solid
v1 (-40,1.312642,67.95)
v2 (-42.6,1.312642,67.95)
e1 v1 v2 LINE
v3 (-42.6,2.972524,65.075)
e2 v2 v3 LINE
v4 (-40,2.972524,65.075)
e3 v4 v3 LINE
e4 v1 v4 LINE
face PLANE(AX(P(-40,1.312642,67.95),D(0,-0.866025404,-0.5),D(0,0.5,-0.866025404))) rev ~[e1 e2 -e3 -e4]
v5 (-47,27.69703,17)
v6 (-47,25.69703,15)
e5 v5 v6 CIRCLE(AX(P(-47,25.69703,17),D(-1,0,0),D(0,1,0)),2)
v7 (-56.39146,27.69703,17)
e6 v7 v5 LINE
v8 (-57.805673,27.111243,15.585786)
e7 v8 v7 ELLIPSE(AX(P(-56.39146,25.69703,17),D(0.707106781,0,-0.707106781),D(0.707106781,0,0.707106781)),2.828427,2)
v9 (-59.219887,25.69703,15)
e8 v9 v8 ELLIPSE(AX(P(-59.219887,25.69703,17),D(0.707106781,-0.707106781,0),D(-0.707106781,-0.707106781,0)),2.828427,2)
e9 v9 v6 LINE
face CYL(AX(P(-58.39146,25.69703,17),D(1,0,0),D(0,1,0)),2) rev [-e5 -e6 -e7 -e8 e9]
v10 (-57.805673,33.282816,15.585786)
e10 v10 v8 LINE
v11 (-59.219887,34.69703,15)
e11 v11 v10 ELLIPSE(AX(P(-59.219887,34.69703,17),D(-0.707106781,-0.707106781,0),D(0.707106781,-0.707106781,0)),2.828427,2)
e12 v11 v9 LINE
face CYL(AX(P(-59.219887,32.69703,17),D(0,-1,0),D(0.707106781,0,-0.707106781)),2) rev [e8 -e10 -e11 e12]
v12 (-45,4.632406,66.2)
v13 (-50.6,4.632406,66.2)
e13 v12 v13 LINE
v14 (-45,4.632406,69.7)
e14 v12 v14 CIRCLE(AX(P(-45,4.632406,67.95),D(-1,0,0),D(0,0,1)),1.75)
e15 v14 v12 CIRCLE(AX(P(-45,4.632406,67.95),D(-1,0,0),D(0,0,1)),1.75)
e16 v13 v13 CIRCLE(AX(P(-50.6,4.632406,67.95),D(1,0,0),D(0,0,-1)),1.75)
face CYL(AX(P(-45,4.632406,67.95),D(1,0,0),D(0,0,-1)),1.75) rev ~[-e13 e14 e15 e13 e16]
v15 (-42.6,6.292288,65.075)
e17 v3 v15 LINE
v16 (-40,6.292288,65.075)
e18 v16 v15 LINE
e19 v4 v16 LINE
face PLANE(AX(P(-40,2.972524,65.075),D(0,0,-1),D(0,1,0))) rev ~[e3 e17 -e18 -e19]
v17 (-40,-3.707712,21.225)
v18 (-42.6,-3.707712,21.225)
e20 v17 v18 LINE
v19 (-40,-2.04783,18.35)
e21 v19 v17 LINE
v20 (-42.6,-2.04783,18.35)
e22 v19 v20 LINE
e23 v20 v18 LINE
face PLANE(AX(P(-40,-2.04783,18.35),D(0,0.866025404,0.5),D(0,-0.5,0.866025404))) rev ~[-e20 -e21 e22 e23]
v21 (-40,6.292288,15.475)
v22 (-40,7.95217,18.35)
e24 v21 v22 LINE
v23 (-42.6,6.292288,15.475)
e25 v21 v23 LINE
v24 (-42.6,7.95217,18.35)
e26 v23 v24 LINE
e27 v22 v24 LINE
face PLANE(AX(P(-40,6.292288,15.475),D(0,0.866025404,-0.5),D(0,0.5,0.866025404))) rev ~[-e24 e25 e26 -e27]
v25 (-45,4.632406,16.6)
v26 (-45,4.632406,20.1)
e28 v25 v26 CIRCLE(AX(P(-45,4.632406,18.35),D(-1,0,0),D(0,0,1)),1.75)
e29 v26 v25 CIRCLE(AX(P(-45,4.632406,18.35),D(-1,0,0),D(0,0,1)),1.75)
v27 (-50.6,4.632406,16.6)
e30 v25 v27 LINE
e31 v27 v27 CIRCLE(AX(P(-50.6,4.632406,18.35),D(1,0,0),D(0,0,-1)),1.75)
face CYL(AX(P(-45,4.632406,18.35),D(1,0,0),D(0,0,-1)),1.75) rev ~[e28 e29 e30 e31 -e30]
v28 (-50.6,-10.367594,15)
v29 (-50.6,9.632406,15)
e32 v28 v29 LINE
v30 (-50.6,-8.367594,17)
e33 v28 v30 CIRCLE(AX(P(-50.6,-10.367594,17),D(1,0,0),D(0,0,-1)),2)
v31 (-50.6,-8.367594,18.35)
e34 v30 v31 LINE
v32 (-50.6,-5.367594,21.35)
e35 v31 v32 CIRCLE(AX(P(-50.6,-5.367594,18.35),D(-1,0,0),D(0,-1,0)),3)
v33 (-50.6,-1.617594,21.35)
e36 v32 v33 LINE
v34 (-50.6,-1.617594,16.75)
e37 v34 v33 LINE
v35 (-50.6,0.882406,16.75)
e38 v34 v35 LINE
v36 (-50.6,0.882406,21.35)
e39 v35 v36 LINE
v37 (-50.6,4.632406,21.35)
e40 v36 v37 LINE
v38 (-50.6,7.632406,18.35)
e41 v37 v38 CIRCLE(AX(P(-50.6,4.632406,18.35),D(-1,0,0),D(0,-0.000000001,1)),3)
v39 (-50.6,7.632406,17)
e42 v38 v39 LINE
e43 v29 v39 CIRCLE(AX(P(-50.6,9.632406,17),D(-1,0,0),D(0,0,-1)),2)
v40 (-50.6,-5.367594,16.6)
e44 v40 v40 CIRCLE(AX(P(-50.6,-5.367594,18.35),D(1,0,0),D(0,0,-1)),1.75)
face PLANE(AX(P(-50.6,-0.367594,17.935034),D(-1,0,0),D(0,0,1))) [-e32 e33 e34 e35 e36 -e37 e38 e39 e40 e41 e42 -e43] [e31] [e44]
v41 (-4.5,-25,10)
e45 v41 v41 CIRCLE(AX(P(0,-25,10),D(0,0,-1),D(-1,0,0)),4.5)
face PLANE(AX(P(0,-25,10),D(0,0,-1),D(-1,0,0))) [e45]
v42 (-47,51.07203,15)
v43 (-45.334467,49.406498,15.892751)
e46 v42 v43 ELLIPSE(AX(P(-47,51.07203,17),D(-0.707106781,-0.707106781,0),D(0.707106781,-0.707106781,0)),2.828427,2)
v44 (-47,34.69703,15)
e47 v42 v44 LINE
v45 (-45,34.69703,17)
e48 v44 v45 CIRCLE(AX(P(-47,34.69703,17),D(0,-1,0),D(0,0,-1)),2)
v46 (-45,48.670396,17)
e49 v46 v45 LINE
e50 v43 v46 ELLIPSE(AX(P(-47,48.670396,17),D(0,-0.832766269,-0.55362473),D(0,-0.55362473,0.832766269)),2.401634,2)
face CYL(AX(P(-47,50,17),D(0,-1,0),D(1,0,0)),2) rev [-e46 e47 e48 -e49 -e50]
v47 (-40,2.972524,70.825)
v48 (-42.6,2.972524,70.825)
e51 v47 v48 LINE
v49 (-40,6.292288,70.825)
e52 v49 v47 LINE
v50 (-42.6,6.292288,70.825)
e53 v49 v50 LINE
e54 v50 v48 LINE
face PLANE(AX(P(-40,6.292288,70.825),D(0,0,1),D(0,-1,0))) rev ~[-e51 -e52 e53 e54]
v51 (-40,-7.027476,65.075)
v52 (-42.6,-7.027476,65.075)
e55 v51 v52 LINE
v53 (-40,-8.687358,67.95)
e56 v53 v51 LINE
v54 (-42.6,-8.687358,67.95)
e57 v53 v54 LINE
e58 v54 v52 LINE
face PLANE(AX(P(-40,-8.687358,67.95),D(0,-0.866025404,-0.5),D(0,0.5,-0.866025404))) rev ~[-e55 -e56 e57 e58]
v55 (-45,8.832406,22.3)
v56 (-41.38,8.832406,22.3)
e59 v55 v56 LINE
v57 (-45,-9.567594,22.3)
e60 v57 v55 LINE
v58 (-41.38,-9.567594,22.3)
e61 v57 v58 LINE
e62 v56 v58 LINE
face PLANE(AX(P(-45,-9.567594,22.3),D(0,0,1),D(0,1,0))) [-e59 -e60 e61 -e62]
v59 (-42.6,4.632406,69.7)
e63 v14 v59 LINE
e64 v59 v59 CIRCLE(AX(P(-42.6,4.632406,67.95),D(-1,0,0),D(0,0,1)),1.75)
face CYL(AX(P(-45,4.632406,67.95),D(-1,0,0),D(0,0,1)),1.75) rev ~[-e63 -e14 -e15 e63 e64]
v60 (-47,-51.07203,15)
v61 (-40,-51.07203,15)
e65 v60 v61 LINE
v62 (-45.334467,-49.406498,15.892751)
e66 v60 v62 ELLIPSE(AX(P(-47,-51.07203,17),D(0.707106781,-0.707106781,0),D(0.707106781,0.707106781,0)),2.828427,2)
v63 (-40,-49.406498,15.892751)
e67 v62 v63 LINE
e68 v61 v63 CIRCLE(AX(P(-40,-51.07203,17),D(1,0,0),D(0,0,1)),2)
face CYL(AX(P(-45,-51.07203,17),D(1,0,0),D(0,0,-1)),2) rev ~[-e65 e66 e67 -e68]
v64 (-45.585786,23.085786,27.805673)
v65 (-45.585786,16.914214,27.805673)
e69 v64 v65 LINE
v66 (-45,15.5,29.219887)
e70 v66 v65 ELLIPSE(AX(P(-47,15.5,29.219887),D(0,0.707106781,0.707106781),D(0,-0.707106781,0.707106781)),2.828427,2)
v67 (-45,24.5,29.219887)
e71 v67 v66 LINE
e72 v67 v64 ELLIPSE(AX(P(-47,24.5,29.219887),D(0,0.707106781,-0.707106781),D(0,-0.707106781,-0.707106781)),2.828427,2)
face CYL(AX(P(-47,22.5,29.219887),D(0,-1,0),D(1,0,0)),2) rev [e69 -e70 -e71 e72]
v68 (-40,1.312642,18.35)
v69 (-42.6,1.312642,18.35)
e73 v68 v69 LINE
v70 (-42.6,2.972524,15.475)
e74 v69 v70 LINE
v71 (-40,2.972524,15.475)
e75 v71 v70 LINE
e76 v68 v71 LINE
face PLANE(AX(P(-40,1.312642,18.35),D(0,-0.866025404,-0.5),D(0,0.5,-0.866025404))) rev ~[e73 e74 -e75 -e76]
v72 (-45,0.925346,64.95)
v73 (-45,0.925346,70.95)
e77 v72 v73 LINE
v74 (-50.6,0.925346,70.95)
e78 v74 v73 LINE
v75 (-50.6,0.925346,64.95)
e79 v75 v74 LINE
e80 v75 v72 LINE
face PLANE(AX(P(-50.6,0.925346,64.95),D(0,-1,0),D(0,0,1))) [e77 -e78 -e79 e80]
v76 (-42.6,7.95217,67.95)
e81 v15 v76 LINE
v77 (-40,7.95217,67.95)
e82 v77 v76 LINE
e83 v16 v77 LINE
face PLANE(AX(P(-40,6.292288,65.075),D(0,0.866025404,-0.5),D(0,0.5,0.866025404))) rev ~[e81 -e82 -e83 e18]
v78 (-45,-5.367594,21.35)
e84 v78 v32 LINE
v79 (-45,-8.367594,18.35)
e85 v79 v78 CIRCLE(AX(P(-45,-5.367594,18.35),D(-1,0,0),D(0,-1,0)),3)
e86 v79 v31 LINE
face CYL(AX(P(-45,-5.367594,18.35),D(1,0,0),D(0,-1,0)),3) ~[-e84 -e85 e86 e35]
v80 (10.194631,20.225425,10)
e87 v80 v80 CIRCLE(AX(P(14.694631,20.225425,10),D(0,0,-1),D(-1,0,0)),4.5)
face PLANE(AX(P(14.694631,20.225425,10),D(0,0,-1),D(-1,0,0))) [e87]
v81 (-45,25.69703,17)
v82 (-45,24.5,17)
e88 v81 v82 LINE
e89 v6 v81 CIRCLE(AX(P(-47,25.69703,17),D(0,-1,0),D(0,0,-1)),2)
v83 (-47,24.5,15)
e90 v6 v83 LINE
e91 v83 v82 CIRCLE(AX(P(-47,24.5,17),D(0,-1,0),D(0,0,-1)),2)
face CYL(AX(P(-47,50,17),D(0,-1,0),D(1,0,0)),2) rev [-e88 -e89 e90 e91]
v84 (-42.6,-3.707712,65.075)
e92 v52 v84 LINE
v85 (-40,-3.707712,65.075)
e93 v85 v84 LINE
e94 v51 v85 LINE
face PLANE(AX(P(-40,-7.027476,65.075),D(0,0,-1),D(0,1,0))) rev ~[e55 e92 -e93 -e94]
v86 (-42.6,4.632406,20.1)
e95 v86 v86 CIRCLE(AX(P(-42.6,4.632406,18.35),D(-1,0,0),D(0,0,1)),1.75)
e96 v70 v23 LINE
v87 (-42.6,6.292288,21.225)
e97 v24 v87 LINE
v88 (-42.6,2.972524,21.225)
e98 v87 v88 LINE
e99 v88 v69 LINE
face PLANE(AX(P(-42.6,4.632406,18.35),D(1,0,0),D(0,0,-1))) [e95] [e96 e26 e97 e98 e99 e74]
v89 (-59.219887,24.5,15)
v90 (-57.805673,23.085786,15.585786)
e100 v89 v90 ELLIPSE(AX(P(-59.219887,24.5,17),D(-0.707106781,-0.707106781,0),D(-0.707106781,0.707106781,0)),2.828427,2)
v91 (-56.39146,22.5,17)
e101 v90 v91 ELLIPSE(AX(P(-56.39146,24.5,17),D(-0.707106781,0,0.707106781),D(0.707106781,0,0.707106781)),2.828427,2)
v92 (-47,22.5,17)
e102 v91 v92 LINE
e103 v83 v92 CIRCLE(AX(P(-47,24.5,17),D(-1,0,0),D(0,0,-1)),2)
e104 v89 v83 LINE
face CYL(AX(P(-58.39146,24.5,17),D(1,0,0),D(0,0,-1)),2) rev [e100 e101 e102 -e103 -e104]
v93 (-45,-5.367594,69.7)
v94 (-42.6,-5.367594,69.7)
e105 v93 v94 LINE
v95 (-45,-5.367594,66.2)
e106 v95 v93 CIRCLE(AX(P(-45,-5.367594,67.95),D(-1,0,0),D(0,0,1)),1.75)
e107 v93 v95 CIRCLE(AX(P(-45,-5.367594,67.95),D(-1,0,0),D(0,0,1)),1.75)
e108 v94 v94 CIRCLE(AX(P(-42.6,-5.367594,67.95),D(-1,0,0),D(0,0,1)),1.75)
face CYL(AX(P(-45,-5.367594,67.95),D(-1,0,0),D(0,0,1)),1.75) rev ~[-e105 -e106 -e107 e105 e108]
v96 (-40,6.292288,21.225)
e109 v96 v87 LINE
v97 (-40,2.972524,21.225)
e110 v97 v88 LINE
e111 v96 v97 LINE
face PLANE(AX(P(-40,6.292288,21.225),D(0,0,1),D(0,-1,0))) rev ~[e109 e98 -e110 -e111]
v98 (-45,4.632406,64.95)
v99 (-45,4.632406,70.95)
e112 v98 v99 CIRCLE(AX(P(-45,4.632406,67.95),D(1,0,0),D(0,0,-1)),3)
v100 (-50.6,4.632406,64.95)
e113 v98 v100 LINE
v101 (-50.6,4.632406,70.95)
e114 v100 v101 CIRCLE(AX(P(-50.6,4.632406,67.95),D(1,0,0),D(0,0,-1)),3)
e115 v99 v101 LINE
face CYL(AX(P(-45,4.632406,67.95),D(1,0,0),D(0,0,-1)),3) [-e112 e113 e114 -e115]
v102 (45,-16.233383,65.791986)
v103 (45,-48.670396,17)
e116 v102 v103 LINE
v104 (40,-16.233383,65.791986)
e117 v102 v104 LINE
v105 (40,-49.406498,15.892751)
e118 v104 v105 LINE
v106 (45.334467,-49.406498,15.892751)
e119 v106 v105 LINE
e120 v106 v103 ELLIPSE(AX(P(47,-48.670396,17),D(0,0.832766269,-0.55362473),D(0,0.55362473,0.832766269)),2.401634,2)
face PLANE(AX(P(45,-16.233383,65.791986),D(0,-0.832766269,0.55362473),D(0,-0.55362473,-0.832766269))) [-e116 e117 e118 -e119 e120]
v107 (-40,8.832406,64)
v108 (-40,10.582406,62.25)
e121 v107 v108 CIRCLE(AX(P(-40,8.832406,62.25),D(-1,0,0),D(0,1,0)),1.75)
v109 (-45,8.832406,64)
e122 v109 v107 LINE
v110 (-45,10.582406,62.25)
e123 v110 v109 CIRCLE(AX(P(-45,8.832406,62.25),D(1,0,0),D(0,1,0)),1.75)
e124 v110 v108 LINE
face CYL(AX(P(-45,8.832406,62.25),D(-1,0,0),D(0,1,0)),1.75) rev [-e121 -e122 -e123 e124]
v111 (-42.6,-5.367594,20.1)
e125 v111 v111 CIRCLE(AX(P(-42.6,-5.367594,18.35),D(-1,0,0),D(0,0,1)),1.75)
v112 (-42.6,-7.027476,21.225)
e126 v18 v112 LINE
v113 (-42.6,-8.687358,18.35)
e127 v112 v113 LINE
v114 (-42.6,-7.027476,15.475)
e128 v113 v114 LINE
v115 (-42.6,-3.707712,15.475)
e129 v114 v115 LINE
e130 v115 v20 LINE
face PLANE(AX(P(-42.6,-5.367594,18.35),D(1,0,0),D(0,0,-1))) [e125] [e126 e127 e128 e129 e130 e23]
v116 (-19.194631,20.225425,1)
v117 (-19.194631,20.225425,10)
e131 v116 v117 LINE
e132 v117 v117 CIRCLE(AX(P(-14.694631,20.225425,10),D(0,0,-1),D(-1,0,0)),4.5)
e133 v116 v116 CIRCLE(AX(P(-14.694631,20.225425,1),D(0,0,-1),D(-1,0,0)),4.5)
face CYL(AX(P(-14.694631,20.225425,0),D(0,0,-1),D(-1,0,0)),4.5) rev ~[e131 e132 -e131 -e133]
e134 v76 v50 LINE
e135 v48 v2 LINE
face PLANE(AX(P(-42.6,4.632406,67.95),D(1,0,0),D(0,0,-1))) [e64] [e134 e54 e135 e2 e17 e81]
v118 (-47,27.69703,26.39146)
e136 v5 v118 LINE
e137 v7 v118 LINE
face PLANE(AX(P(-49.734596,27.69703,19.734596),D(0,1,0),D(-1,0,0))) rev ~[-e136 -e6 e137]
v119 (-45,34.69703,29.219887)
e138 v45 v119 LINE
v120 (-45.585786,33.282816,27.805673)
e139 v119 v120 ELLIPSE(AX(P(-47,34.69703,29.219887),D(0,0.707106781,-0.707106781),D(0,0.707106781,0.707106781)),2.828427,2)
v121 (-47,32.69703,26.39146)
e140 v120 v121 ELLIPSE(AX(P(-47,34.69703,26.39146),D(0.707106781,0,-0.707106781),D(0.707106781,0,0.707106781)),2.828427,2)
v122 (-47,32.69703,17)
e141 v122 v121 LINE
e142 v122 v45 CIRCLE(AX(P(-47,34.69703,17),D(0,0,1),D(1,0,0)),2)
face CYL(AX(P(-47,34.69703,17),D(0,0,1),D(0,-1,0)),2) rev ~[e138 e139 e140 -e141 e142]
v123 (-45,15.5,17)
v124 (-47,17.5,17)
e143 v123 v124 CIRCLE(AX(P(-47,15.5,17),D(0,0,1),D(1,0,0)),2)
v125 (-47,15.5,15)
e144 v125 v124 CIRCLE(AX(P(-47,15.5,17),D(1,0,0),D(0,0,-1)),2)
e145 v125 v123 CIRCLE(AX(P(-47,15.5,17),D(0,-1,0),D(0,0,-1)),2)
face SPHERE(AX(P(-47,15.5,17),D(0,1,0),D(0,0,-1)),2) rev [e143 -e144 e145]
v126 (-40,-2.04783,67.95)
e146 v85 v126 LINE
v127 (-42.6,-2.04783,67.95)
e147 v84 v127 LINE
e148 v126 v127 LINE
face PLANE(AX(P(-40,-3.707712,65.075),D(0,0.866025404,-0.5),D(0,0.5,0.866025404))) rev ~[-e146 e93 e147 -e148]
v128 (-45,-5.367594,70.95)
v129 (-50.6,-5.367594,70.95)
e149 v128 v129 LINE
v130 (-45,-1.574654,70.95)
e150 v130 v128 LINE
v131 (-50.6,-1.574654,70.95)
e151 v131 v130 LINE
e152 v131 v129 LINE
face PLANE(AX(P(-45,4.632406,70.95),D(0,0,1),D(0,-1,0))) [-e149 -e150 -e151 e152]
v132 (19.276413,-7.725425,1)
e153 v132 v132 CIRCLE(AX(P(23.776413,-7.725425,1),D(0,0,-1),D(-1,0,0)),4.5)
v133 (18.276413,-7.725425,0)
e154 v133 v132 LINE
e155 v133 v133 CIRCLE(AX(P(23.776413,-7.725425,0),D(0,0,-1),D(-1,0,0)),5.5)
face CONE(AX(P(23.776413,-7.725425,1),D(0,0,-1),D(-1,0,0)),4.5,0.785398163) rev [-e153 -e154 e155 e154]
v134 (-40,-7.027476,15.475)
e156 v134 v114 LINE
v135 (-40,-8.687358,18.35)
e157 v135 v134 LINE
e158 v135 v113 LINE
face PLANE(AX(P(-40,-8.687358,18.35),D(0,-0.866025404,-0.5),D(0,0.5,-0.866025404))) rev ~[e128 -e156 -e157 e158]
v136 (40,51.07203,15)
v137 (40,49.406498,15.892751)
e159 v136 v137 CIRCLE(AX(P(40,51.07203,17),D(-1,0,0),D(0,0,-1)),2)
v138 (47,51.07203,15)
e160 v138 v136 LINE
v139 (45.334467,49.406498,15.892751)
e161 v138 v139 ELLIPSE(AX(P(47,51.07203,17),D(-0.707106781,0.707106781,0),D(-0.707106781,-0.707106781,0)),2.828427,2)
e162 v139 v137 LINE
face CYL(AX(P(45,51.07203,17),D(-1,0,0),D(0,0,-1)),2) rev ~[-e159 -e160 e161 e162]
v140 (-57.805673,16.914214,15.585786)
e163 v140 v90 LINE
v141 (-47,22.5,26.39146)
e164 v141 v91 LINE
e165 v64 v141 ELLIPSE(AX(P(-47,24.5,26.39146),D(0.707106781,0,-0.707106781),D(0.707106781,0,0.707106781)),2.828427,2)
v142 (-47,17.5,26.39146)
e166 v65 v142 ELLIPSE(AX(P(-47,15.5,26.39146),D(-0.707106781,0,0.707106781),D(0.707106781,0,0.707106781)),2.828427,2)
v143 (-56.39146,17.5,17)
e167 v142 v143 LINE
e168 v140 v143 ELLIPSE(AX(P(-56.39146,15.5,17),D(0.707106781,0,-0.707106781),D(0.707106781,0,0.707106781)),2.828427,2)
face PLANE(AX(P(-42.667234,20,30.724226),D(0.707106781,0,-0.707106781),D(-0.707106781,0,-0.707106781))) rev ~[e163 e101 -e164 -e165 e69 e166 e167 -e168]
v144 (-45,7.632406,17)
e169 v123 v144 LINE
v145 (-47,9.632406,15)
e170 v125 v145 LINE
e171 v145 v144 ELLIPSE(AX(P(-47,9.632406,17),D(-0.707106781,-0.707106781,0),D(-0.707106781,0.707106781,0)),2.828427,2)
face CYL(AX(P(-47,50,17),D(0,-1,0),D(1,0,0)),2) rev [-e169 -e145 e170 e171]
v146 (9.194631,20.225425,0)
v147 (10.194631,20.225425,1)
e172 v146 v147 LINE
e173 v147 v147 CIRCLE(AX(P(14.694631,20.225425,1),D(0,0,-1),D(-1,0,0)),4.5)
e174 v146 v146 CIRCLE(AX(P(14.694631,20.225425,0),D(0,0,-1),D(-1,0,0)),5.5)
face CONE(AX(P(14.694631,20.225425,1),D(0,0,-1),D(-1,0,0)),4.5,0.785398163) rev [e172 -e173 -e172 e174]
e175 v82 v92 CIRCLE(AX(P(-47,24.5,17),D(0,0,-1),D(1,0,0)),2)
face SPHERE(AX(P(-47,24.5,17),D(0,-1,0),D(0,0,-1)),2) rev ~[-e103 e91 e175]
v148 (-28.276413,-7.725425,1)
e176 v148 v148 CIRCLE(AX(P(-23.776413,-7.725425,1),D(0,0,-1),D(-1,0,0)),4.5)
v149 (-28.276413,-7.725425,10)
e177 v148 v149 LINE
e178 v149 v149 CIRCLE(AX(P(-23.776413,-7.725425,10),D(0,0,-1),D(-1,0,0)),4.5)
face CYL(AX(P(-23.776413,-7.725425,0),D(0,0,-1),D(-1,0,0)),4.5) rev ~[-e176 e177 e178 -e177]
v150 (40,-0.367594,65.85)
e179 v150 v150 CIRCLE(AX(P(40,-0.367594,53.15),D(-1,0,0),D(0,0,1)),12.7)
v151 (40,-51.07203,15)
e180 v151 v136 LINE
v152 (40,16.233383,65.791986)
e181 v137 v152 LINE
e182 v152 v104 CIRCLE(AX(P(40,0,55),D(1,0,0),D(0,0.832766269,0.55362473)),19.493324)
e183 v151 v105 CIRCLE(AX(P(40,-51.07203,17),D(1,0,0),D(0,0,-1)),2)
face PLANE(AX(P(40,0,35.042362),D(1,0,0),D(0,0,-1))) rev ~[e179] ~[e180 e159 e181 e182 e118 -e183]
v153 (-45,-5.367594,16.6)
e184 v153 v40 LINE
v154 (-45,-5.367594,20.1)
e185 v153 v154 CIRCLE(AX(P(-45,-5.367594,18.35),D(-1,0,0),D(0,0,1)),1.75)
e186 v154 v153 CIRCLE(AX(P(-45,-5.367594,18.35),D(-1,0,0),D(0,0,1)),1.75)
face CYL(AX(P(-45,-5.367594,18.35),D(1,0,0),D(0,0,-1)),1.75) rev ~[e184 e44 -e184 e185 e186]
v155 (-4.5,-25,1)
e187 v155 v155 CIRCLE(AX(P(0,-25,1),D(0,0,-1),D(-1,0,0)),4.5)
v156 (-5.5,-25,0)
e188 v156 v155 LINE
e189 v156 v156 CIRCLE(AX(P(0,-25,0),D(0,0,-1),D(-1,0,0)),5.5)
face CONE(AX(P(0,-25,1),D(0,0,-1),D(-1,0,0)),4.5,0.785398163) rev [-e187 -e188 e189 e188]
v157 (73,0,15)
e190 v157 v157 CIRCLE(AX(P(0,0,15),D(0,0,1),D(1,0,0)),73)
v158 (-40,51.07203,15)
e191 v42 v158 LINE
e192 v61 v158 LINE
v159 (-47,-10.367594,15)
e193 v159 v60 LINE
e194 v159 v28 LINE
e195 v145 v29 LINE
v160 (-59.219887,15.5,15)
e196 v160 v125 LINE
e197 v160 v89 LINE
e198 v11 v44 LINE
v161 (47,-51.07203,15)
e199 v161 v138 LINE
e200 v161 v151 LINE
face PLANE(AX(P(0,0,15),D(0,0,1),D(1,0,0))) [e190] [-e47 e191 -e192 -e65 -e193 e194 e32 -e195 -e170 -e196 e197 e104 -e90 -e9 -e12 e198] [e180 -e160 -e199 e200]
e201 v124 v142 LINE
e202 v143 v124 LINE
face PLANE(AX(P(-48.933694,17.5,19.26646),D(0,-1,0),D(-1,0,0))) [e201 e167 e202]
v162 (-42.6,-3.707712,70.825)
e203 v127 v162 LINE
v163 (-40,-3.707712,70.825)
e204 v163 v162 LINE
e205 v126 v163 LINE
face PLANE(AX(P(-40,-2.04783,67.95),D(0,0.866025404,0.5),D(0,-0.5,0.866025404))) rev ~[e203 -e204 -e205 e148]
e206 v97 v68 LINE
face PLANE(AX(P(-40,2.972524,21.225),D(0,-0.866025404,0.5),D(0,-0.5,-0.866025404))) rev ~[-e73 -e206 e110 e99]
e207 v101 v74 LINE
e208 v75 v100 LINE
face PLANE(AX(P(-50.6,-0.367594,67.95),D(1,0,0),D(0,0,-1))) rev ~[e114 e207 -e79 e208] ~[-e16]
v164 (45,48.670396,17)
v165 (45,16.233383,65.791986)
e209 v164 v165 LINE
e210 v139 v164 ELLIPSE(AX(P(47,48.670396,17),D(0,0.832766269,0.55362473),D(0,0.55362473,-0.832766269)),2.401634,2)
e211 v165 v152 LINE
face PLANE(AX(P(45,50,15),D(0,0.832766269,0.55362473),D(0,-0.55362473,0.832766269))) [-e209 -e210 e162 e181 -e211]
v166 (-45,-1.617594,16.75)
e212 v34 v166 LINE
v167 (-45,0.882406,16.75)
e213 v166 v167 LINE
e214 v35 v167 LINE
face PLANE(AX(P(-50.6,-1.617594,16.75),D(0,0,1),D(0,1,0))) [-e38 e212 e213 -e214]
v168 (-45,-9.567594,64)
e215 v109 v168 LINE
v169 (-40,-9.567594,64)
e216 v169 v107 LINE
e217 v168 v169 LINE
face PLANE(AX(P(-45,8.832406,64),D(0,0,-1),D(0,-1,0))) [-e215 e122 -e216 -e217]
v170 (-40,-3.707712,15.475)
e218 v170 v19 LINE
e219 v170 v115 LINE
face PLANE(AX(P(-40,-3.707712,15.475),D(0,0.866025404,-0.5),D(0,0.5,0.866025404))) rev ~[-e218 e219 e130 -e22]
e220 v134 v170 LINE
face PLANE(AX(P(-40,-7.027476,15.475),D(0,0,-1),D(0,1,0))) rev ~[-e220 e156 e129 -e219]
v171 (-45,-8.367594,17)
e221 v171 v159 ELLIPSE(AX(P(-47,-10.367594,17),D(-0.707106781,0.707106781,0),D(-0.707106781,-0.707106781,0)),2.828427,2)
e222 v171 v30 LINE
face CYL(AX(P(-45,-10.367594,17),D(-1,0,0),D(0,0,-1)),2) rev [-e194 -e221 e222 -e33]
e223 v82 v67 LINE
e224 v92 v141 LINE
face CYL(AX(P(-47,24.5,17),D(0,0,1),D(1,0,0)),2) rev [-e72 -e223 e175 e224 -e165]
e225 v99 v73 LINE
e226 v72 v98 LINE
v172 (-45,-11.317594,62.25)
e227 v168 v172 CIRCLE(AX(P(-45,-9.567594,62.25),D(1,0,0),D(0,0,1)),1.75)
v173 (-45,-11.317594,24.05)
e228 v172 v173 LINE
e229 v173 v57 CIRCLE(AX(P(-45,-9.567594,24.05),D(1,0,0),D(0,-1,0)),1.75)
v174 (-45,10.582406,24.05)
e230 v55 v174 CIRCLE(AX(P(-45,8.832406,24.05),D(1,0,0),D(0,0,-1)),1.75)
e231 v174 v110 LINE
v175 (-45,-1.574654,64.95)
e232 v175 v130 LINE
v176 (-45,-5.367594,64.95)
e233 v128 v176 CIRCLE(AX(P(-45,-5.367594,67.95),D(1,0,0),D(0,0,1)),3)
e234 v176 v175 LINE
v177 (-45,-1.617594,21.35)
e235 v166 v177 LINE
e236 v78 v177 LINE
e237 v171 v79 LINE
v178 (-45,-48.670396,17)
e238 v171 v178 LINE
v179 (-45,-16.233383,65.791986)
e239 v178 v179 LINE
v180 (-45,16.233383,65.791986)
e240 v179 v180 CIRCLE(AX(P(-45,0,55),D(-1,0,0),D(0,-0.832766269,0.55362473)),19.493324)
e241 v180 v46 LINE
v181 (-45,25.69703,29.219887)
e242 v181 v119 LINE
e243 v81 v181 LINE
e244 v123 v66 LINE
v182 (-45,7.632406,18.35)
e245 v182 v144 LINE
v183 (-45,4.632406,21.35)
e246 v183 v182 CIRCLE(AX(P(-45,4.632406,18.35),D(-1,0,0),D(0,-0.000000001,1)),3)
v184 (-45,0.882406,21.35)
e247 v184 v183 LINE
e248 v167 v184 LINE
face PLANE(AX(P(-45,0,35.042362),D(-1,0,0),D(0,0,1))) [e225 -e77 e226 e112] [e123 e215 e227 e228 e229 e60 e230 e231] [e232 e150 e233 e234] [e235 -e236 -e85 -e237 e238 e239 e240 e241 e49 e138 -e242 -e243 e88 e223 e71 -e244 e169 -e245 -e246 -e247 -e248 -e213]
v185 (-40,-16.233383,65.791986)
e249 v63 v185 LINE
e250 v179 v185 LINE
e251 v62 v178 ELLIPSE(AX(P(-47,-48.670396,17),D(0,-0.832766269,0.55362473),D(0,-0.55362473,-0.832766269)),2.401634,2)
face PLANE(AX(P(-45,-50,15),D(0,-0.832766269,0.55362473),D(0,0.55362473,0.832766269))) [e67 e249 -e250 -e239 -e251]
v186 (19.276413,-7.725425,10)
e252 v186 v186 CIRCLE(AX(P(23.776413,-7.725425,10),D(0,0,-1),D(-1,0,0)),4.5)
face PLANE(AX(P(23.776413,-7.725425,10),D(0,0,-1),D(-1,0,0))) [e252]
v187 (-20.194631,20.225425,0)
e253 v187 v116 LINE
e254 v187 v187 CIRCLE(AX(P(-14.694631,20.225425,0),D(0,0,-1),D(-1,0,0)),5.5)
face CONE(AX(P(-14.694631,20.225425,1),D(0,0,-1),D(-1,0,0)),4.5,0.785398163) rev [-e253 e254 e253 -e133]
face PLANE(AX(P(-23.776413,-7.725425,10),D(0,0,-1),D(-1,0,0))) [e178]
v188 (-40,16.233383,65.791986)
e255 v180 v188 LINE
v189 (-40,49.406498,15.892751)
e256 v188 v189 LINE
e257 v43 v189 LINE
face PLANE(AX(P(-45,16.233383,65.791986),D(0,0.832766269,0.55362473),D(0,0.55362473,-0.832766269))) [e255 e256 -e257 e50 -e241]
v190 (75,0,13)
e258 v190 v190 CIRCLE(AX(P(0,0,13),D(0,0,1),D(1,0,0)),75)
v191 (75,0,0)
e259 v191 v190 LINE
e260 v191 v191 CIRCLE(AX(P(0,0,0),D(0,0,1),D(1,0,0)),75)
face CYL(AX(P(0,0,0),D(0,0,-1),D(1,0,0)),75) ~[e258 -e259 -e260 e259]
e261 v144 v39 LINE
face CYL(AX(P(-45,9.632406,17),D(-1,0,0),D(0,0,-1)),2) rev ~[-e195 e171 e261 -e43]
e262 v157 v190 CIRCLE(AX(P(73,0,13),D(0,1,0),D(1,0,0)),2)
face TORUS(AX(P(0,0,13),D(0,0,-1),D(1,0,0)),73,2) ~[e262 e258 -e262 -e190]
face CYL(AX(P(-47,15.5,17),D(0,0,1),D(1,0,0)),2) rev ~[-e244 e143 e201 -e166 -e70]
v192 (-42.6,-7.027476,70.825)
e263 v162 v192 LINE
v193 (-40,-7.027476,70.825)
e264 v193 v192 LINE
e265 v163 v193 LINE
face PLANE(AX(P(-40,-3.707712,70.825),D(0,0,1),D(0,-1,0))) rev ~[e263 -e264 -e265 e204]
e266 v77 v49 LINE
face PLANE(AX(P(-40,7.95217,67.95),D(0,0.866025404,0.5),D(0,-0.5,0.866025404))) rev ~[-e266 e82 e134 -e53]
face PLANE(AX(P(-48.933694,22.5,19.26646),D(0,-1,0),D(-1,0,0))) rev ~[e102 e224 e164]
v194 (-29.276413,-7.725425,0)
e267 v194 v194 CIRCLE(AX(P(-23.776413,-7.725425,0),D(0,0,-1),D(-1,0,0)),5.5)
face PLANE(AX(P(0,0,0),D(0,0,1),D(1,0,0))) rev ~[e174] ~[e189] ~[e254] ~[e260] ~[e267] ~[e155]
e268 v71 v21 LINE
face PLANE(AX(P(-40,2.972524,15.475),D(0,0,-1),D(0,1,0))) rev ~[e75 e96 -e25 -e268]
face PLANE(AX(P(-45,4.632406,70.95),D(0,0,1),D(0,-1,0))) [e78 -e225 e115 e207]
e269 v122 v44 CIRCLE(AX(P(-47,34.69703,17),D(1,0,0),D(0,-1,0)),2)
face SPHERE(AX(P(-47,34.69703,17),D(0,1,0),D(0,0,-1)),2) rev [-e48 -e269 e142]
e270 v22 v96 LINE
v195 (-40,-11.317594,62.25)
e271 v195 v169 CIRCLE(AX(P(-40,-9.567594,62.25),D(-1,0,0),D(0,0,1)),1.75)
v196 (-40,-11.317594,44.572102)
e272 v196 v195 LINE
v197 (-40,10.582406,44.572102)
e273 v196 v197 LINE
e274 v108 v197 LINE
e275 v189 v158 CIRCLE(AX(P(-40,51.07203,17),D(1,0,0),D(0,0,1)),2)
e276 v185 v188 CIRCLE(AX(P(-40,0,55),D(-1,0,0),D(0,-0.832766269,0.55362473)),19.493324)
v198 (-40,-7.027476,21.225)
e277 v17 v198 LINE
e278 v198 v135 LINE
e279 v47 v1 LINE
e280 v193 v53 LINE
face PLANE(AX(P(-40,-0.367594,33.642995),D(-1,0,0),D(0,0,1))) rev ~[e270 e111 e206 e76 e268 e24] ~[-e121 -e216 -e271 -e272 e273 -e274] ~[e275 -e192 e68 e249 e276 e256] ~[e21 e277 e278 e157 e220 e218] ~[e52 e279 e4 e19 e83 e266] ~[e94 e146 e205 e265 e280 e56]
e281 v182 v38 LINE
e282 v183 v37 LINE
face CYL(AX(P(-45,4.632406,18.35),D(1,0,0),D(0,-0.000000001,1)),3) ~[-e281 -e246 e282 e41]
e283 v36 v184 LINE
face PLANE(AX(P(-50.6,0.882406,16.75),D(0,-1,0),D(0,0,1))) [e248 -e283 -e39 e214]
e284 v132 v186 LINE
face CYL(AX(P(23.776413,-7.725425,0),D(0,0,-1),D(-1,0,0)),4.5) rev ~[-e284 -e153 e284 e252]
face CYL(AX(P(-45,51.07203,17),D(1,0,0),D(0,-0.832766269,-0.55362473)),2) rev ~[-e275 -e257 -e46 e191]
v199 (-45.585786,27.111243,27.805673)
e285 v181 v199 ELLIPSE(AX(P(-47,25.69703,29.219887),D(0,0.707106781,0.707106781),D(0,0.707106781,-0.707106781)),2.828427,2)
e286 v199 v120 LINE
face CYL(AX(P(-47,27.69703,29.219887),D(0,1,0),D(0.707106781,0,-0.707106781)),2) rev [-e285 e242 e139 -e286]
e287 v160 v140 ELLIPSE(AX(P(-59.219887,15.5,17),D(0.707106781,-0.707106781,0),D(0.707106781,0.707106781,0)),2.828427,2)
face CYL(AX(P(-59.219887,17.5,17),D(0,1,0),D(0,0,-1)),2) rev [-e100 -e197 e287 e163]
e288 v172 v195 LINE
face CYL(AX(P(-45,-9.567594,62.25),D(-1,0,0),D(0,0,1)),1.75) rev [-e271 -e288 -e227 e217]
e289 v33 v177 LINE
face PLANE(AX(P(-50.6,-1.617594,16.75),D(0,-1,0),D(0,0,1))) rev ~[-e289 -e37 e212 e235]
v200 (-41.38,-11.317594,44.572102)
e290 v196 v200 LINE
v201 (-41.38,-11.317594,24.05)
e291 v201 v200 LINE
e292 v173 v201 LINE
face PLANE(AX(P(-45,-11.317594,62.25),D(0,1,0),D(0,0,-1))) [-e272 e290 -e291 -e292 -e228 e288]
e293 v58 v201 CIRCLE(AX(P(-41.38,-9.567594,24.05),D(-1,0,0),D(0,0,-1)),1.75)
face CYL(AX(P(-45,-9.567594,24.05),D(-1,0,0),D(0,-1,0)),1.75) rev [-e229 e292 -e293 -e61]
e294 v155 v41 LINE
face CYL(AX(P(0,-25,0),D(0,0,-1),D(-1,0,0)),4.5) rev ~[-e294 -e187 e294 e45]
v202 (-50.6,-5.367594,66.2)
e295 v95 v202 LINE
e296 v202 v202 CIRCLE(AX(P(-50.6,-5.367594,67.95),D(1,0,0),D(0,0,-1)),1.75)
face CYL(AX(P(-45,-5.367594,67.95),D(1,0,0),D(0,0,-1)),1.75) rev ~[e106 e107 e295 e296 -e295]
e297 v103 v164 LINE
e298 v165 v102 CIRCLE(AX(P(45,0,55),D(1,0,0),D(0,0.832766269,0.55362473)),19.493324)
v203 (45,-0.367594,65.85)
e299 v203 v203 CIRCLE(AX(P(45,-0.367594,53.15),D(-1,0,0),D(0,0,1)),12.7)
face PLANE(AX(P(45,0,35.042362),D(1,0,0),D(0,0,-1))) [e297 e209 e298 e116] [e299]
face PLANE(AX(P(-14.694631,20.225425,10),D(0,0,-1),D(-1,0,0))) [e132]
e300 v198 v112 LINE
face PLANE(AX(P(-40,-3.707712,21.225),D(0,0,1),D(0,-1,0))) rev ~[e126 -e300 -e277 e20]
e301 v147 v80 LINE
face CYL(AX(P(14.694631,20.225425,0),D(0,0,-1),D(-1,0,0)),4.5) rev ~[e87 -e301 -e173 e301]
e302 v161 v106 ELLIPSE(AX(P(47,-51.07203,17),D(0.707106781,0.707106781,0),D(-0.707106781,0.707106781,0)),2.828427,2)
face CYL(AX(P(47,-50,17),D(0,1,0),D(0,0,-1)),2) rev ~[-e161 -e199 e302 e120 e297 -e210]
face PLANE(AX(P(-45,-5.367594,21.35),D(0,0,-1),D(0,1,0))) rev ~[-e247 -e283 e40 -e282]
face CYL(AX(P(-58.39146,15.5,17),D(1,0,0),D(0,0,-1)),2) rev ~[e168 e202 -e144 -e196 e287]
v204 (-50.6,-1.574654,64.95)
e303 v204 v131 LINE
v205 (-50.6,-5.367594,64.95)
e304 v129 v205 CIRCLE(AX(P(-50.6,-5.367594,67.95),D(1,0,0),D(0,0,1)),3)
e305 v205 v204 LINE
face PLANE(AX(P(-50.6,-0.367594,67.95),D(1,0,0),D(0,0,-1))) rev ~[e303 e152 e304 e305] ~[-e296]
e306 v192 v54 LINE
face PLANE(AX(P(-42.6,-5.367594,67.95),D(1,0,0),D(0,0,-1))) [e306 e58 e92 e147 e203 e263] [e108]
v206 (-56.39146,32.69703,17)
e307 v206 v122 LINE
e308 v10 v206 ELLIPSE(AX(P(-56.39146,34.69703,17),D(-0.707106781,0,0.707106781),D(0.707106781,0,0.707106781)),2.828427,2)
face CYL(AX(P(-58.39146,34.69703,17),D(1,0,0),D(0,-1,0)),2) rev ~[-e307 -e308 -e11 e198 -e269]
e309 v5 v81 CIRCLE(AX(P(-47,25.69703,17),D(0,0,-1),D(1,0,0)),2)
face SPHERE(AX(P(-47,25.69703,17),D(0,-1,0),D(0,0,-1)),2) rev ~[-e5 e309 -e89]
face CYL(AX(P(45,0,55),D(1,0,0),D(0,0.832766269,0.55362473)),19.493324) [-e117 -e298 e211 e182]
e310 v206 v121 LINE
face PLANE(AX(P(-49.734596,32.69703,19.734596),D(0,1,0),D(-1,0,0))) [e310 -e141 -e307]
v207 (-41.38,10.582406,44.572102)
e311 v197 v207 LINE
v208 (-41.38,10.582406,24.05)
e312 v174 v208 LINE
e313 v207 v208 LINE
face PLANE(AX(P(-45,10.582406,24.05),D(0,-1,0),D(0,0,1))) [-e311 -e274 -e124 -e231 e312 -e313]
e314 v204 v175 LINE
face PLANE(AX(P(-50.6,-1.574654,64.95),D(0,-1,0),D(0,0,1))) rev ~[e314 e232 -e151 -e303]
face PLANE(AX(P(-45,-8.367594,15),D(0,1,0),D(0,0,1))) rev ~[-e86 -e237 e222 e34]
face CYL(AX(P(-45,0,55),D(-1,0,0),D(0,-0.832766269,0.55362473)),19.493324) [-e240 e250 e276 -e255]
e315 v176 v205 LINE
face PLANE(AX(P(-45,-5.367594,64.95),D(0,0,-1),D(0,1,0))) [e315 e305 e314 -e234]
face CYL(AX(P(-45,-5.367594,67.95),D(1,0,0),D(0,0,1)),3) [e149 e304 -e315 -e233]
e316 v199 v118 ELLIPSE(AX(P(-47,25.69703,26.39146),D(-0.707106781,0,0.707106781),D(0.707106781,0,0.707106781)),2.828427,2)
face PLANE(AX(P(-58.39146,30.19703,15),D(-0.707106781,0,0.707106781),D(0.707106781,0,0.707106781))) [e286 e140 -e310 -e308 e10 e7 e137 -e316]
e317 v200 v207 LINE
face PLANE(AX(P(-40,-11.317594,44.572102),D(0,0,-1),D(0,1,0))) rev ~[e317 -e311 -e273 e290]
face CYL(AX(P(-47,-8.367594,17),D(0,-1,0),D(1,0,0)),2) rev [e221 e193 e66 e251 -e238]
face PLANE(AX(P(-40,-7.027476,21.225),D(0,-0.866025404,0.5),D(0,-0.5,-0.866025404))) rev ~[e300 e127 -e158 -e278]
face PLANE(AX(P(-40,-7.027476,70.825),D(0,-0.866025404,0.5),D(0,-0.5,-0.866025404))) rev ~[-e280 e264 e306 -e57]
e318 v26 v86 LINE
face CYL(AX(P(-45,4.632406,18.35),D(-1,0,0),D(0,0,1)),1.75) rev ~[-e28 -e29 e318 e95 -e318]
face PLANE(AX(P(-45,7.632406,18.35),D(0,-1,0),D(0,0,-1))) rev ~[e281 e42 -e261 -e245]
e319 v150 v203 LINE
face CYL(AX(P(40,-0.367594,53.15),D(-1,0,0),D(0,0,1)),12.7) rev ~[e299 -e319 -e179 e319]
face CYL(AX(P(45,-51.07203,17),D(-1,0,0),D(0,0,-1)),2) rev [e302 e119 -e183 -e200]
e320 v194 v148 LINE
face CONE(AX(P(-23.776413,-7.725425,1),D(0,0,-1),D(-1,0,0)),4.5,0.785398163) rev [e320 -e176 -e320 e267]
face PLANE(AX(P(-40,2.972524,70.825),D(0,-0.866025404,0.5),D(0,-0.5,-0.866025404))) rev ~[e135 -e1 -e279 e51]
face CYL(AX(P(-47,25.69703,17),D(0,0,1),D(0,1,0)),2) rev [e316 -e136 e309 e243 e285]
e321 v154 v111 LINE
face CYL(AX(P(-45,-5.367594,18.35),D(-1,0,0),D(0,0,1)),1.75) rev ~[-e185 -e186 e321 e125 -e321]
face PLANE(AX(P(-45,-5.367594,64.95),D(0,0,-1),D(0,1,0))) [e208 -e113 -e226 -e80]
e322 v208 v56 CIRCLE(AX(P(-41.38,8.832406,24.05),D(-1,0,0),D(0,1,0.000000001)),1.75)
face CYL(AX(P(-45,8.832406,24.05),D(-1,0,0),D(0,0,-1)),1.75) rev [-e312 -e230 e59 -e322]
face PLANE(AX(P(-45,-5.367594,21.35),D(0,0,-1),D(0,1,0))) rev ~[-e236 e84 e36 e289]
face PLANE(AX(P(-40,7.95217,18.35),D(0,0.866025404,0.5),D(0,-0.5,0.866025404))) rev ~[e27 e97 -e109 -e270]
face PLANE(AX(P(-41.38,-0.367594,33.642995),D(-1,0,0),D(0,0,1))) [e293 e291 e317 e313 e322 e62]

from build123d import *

# Parameters (mm, degrees)
SKETCH1_R           = 75
BASE_PLATE_DEPTH    = 15
SKETCH2_R           = 4.5
DRIVE_HOLES_DEPTH   = 10
CHAMFER1_SIZE       = 1
BASE_START          = 45
BASE_FIN_DEPTH      = 5
BASE_START_2        = 85
BASE_FIN_2_DEPTH    = 5
CUT_EXTRUDE1_REACH  = 122
CUT_EXTRUDE2_REACH  = 122
SKETCH7_R           = 1.75
BOSS_EXTRUDE1_DEPTH = 5.6
SKETCH9_R           = 1.75
CUT_EXTRUDE3_DEPTH  = 5.6
SKETCH10_W          = 4.6
SKETCH10_H          = 2.5
SKETCH10_W_2        = 6
CUT_EXTRUDE4_DEPTH  = 5.6
CUT_EXTRUDE5_DEPTH  = 2.6
BOSS_EXTRUDE2_DEPTH = 1.38
FILLET1_R           = 2
FILLET2_R           = 2
CUT_EXTRUDE6_REACH  = 37
SKETCH13_R          = 12.7
BOSS_EXTRUDE4_START = 20
BOSS_EXTRUDE4_DEPTH = 2.5
BOSS_EXTRUDE5_START = 20
BOSS_EXTRUDE5_DEPTH = 2.5
FILLET4_R           = 2


with BuildPart() as part:
    # Sketch1 → Base Plate (new body)
    with BuildSketch(Plane.XY):
        Circle(SKETCH1_R)
    extrude(amount=BASE_PLATE_DEPTH)

    # Sketch2 → Drive Holes (cut)
    with BuildSketch(Plane(origin=(0, 0, 0), x_dir=(-1, 0, 0), z_dir=(0, 0, -1))):
        with Locations((0, -25)):
            Circle(SKETCH2_R)
        with Locations((-23.776412907, -7.725424859)):
            Circle(SKETCH2_R)
        with Locations((-14.694631307, 20.225424859)):
            Circle(SKETCH2_R)
        with Locations((14.694631307, 20.225424859)):
            Circle(SKETCH2_R)
        with Locations((23.776412907, -7.725424859)):
            Circle(SKETCH2_R)
    extrude(amount=-DRIVE_HOLES_DEPTH, mode=Mode.SUBTRACT)

    # Chamfer1
    chamfer1_edges = [part.edges().sort_by_distance(p)[0] for p in [
        (28.276412907, -7.725424859, 0),
        (19.194631307, 20.225424859, 0),
        (-10.194631307, 20.225424859, 0),
        (-19.276412907, -7.725424859, 0),
        (4.5, -25, 0),
    ]]
    chamfer(chamfer1_edges, length=CHAMFER1_SIZE)

    # Sketch4 → Base Fin (add)
    with BuildSketch(Plane(origin=(0, 0, 0), x_dir=(0, 0, -1), z_dir=(1, 0, 0)).offset(BASE_START)):
        with BuildLine():
            Line((-15, 50), (-65.791986374, 16.233382914))
            ThreePointArc((-65.791986374, 16.233382914), (-74.493324261, 0), (-65.791986374, -16.233382914))
            Line((-65.791986374, -16.233382914), (-15, -50))
            Line((-15, -50), (-15, 50))
        make_face()
    extrude(amount=-BASE_FIN_DEPTH)

    # Sketch5 → Base Fin 2 (add)
    with BuildSketch(Plane.ZY.offset(-40).offset(BASE_START_2)):
        with BuildLine():
            Line((15, 50), (15, -50))
            Line((15, -50), (65.791986374, -16.233382914))
            ThreePointArc((65.791986374, -16.233382914), (74.493324261, 0), (65.791986374, 16.233382914))
            Line((65.791986374, 16.233382914), (15, 50))
        make_face()
    extrude(amount=-BASE_FIN_2_DEPTH)

    # Sketch6 → Cut-Extrude1 (cut, up to next)
    with BuildSketch(Plane.ZY.offset(45), mode=Mode.PRIVATE) as cut_extrude1_sk1:
        with BuildLine():
            Line((64, 8.832406236), (64, -9.567593764))
            ThreePointArc((64, -9.567593764), (63.487436867, -10.805030631), (62.25, -11.317593764))
            Line((62.25, -11.317593764), (24.05, -11.317593764))
            ThreePointArc((24.05, -11.317593764), (22.812563133, -10.805030631), (22.3, -9.567593764))
            Line((22.3, -9.567593764), (22.3, 8.832406236))
            ThreePointArc((22.3, 8.832406236), (22.812563133, 10.069843103), (24.05, 10.582406236))
            Line((24.05, 10.582406236), (62.25, 10.582406236))
            ThreePointArc((62.25, 10.582406236), (63.487436867, 10.069843103), (64, 8.832406236))
        make_face()
    cut_extrude1_tool1 = extrude(cut_extrude1_sk1.sketch, amount=-CUT_EXTRUDE1_REACH, mode=Mode.PRIVATE) & part.part
    add(cut_extrude1_tool1.solids().sort_by_distance((-45, -0.367594, 43.15))[0], mode=Mode.SUBTRACT)

    # Sketch7 → Cut-Extrude2 (cut, up to next)
    with BuildSketch(Plane.ZY.offset(45), mode=Mode.PRIVATE) as cut_extrude2_sk1:
        with Locations((18.35, 4.632406236)):
            Circle(SKETCH7_R)
    cut_extrude2_tool1 = extrude(cut_extrude2_sk1.sketch, amount=-CUT_EXTRUDE2_REACH, mode=Mode.PRIVATE) & part.part
    add(cut_extrude2_tool1.solids().sort_by_distance((-45, 4.632406, 18.35))[0], mode=Mode.SUBTRACT)
    # Sketch7 → Cut-Extrude2 (cut, up to next)
    with BuildSketch(Plane.ZY.offset(45), mode=Mode.PRIVATE) as cut_extrude2_sk2:
        with Locations((18.35, -5.367593764)):
            Circle(SKETCH7_R)
    cut_extrude2_tool2 = extrude(cut_extrude2_sk2.sketch, amount=-CUT_EXTRUDE2_REACH, mode=Mode.PRIVATE) & part.part
    add(cut_extrude2_tool2.solids().sort_by_distance((-45, -5.367594, 18.35))[0], mode=Mode.SUBTRACT)
    # Sketch7 → Cut-Extrude2 (cut, up to next)
    with BuildSketch(Plane.ZY.offset(45), mode=Mode.PRIVATE) as cut_extrude2_sk3:
        with Locations((67.95, -5.367593764)):
            Circle(SKETCH7_R)
    cut_extrude2_tool3 = extrude(cut_extrude2_sk3.sketch, amount=-CUT_EXTRUDE2_REACH, mode=Mode.PRIVATE) & part.part
    add(cut_extrude2_tool3.solids().sort_by_distance((-45, -5.367594, 67.95))[0], mode=Mode.SUBTRACT)
    # Sketch7 → Cut-Extrude2 (cut, up to next)
    with BuildSketch(Plane.ZY.offset(45), mode=Mode.PRIVATE) as cut_extrude2_sk4:
        with Locations((67.95, 4.632406236)):
            Circle(SKETCH7_R)
    cut_extrude2_tool4 = extrude(cut_extrude2_sk4.sketch, amount=-CUT_EXTRUDE2_REACH, mode=Mode.PRIVATE) & part.part
    add(cut_extrude2_tool4.solids().sort_by_distance((-45, 4.632406, 67.95))[0], mode=Mode.SUBTRACT)

    # Sketch8 → Boss-Extrude1 (add)
    with BuildSketch(Plane.ZY.offset(45)):
        with BuildLine():
            Line((70.95, 4.632406236), (70.95, -5.367593764))
            ThreePointArc((70.95, -5.367593764), (67.95, -8.367593764), (64.95, -5.367593764))
            Line((64.95, -5.367593764), (64.95, 4.632406236))
            ThreePointArc((64.95, 4.632406236), (67.95, 7.632406236), (70.95, 4.632406236))
        make_face()
        with BuildLine():
            Line((15, 7.632406236), (15, 0))
            Line((15, 0), (15, -8.367593764))
            Line((15, -8.367593764), (18.35, -8.367593764))
            ThreePointArc((18.35, -8.367593764), (20.471320344, -7.488914107), (21.35, -5.367593764))
            Line((21.35, -5.367593764), (21.35, 4.632406236))
            ThreePointArc((21.35, 4.632406236), (20.471320344, 6.75372658), (18.35, 7.632406236))
            Line((18.35, 7.632406236), (15, 7.632406236))
        make_face()
    extrude(amount=BOSS_EXTRUDE1_DEPTH)

    # Sketch9 → Cut-Extrude3 (cut)
    with BuildSketch(Plane(origin=(-45, 0, 0), x_dir=(0, 0, -1), z_dir=(1, 0, 0))):
        with Locations((-67.95, -5.367593764)):
            Circle(SKETCH9_R)
        with Locations((-67.95, 4.632406236)):
            Circle(SKETCH9_R)
        with Locations((-18.35, -5.367593764)):
            Circle(SKETCH9_R)
        with Locations((-18.35, 4.632406236)):
            Circle(SKETCH9_R)
    extrude(amount=-CUT_EXTRUDE3_DEPTH, mode=Mode.SUBTRACT)

    # Sketch10 → Cut-Extrude4 (cut)
    with BuildSketch(Plane.ZY.offset(50.6)):
        with Locations((19.05, -0.367593764)):
            Rectangle(SKETCH10_W, SKETCH10_H)
        with Locations((67.95, -0.324654002)):
            Rectangle(SKETCH10_W_2, SKETCH10_H)
    extrude(amount=-CUT_EXTRUDE4_DEPTH, mode=Mode.SUBTRACT)

    # Sketch11 → Cut-Extrude5 (cut)
    with BuildSketch(Plane(origin=(-40, 0, 0), x_dir=(0, 0, -1), z_dir=(1, 0, 0))):
        Polygon((-65.075, -7.027475788), (-65.075, -3.70771174), (-67.95, -2.047829716), (-70.825, -3.70771174), (-70.825, -7.027475788), (-67.95, -8.687357811), align=None)
        Polygon((-65.075, 2.972524212), (-65.075, 6.29228826), (-67.95, 7.952170284), (-70.825, 6.29228826), (-70.825, 2.972524212), (-67.95, 1.312642189), align=None)
        Polygon((-15.475, -7.027475788), (-15.475, -3.70771174), (-18.35, -2.047829716), (-21.225, -3.70771174), (-21.225, -7.027475788), (-18.35, -8.687357811), align=None)
        Polygon((-15.475, 2.972524212), (-15.475, 6.29228826), (-18.35, 7.952170284), (-21.225, 6.29228826), (-21.225, 2.972524212), (-18.35, 1.312642189), align=None)
    extrude(amount=-CUT_EXTRUDE5_DEPTH, mode=Mode.SUBTRACT)

    # Sketch12 → Boss-Extrude2 (add)
    with BuildSketch(Plane(origin=(-40, 0, 0), x_dir=(0, 0, -1), z_dir=(1, 0, 0))):
        with BuildLine():
            Line((-44.572101834, -11.317593764), (-44.572101834, 10.582406236))
            Line((-44.572101834, 10.582406236), (-24.05, 10.582406236))
            ThreePointArc((-24.05, 10.582406236), (-22.812563133, 10.069843104), (-22.3, 8.832406236))
            Line((-22.3, 8.832406236), (-22.3, -9.567593764))
            ThreePointArc((-22.3, -9.567593764), (-22.812563133, -10.805030631), (-24.05, -11.317593764))
            Line((-24.05, -11.317593764), (-44.572101834, -11.317593764))
        make_face()
    extrude(amount=-BOSS_EXTRUDE2_DEPTH)

    # Fillet1
    fillet1_edges = [part.edges().sort_by_distance(p)[0] for p in [
        (-45, -29.183796882, 15),
        (-47.8, -8.367593764, 15),
        (-47.8, 7.632406236, 15),
        (42.5, 50, 15),
        (42.5, -50, 15),
        (45, 0, 15),
        (-42.5, 50, 15),
        (-42.5, -50, 15),
        (-45, 28.816203118, 15),
    ]]
    fillet(fillet1_edges, radius=FILLET1_R)

    # Fillet2
    fillet2_edges = [part.edges().sort_by_distance(p)[0] for p in [
        (-75, 0, 15),
    ]]
    fillet(fillet2_edges, radius=FILLET2_R)

    # Sketch13 → Cut-Extrude6 (cut, up to next)
    with BuildSketch(Plane.ZY.offset(-40), mode=Mode.PRIVATE) as cut_extrude6_sk1:
        with Locations((53.15, -0.367593764)):
            Circle(SKETCH13_R)
    cut_extrude6_tool1 = extrude(cut_extrude6_sk1.sketch, amount=-CUT_EXTRUDE6_REACH, mode=Mode.PRIVATE) & part.part
    add(cut_extrude6_tool1.solids().sort_by_distance((40, -0.367594, 53.15))[0], mode=Mode.SUBTRACT)

    # Sketch17 → Boss-Extrude4 (add, symmetric)
    with BuildSketch(Plane(origin=(0, 0, 0), x_dir=(1, 0, 0), z_dir=(0, 1, 0)).offset(BOSS_EXTRUDE4_START)):
        Polygon((-42.667233731, -13), (-42.667233731, -30.724225819), (-60.39145955, -13), align=None)
    extrude(amount=BOSS_EXTRUDE4_DEPTH, both=True)

    # Sketch18 → Boss-Extrude5 (add, symmetric)
    with BuildSketch(Plane(origin=(-60.248558799, 10.197029926, -5.539416888), x_dir=(-1, 0, 0), z_dir=(0, 1, 0)).offset(BOSS_EXTRUDE5_START)):
        Polygon((-1.857099249, 20.539416888), (-15.248558799, 33.930876438), (-15.248558799, 20.539416888), align=None)
    extrude(amount=BOSS_EXTRUDE5_DEPTH, both=True)

    # Fillet4
    fillet4_edges = [part.edges().sort_by_distance(p)[0] for p in [
        (-45.585786438, 17.5, 15.585786438),
        (-45.585786438, 22.5, 15.585786438),
        (-45, 20, 28.39145955),
        (-58.39145955, 20, 15),
        (-52.695729775, 22.5, 15),
        (-45, 22.5, 22.695729775),
        (-52.695729775, 17.5, 15),
        (-45, 17.5, 22.695729775),
        (-45.585786438, 27.697029926, 15.585786438),
        (-45.585786438, 32.697029926, 15.585786438),
        (-52.695729775, 27.697029926, 15),
        (-45, 32.697029926, 22.695729775),
        (-52.695729775, 32.697029926, 15),
        (-58.39145955, 30.197029926, 15),
        (-45, 30.197029926, 28.39145955),
        (-45, 27.697029926, 22.695729775),
    ]]
    fillet(fillet4_edges, radius=FILLET4_R)


solid = part.part
